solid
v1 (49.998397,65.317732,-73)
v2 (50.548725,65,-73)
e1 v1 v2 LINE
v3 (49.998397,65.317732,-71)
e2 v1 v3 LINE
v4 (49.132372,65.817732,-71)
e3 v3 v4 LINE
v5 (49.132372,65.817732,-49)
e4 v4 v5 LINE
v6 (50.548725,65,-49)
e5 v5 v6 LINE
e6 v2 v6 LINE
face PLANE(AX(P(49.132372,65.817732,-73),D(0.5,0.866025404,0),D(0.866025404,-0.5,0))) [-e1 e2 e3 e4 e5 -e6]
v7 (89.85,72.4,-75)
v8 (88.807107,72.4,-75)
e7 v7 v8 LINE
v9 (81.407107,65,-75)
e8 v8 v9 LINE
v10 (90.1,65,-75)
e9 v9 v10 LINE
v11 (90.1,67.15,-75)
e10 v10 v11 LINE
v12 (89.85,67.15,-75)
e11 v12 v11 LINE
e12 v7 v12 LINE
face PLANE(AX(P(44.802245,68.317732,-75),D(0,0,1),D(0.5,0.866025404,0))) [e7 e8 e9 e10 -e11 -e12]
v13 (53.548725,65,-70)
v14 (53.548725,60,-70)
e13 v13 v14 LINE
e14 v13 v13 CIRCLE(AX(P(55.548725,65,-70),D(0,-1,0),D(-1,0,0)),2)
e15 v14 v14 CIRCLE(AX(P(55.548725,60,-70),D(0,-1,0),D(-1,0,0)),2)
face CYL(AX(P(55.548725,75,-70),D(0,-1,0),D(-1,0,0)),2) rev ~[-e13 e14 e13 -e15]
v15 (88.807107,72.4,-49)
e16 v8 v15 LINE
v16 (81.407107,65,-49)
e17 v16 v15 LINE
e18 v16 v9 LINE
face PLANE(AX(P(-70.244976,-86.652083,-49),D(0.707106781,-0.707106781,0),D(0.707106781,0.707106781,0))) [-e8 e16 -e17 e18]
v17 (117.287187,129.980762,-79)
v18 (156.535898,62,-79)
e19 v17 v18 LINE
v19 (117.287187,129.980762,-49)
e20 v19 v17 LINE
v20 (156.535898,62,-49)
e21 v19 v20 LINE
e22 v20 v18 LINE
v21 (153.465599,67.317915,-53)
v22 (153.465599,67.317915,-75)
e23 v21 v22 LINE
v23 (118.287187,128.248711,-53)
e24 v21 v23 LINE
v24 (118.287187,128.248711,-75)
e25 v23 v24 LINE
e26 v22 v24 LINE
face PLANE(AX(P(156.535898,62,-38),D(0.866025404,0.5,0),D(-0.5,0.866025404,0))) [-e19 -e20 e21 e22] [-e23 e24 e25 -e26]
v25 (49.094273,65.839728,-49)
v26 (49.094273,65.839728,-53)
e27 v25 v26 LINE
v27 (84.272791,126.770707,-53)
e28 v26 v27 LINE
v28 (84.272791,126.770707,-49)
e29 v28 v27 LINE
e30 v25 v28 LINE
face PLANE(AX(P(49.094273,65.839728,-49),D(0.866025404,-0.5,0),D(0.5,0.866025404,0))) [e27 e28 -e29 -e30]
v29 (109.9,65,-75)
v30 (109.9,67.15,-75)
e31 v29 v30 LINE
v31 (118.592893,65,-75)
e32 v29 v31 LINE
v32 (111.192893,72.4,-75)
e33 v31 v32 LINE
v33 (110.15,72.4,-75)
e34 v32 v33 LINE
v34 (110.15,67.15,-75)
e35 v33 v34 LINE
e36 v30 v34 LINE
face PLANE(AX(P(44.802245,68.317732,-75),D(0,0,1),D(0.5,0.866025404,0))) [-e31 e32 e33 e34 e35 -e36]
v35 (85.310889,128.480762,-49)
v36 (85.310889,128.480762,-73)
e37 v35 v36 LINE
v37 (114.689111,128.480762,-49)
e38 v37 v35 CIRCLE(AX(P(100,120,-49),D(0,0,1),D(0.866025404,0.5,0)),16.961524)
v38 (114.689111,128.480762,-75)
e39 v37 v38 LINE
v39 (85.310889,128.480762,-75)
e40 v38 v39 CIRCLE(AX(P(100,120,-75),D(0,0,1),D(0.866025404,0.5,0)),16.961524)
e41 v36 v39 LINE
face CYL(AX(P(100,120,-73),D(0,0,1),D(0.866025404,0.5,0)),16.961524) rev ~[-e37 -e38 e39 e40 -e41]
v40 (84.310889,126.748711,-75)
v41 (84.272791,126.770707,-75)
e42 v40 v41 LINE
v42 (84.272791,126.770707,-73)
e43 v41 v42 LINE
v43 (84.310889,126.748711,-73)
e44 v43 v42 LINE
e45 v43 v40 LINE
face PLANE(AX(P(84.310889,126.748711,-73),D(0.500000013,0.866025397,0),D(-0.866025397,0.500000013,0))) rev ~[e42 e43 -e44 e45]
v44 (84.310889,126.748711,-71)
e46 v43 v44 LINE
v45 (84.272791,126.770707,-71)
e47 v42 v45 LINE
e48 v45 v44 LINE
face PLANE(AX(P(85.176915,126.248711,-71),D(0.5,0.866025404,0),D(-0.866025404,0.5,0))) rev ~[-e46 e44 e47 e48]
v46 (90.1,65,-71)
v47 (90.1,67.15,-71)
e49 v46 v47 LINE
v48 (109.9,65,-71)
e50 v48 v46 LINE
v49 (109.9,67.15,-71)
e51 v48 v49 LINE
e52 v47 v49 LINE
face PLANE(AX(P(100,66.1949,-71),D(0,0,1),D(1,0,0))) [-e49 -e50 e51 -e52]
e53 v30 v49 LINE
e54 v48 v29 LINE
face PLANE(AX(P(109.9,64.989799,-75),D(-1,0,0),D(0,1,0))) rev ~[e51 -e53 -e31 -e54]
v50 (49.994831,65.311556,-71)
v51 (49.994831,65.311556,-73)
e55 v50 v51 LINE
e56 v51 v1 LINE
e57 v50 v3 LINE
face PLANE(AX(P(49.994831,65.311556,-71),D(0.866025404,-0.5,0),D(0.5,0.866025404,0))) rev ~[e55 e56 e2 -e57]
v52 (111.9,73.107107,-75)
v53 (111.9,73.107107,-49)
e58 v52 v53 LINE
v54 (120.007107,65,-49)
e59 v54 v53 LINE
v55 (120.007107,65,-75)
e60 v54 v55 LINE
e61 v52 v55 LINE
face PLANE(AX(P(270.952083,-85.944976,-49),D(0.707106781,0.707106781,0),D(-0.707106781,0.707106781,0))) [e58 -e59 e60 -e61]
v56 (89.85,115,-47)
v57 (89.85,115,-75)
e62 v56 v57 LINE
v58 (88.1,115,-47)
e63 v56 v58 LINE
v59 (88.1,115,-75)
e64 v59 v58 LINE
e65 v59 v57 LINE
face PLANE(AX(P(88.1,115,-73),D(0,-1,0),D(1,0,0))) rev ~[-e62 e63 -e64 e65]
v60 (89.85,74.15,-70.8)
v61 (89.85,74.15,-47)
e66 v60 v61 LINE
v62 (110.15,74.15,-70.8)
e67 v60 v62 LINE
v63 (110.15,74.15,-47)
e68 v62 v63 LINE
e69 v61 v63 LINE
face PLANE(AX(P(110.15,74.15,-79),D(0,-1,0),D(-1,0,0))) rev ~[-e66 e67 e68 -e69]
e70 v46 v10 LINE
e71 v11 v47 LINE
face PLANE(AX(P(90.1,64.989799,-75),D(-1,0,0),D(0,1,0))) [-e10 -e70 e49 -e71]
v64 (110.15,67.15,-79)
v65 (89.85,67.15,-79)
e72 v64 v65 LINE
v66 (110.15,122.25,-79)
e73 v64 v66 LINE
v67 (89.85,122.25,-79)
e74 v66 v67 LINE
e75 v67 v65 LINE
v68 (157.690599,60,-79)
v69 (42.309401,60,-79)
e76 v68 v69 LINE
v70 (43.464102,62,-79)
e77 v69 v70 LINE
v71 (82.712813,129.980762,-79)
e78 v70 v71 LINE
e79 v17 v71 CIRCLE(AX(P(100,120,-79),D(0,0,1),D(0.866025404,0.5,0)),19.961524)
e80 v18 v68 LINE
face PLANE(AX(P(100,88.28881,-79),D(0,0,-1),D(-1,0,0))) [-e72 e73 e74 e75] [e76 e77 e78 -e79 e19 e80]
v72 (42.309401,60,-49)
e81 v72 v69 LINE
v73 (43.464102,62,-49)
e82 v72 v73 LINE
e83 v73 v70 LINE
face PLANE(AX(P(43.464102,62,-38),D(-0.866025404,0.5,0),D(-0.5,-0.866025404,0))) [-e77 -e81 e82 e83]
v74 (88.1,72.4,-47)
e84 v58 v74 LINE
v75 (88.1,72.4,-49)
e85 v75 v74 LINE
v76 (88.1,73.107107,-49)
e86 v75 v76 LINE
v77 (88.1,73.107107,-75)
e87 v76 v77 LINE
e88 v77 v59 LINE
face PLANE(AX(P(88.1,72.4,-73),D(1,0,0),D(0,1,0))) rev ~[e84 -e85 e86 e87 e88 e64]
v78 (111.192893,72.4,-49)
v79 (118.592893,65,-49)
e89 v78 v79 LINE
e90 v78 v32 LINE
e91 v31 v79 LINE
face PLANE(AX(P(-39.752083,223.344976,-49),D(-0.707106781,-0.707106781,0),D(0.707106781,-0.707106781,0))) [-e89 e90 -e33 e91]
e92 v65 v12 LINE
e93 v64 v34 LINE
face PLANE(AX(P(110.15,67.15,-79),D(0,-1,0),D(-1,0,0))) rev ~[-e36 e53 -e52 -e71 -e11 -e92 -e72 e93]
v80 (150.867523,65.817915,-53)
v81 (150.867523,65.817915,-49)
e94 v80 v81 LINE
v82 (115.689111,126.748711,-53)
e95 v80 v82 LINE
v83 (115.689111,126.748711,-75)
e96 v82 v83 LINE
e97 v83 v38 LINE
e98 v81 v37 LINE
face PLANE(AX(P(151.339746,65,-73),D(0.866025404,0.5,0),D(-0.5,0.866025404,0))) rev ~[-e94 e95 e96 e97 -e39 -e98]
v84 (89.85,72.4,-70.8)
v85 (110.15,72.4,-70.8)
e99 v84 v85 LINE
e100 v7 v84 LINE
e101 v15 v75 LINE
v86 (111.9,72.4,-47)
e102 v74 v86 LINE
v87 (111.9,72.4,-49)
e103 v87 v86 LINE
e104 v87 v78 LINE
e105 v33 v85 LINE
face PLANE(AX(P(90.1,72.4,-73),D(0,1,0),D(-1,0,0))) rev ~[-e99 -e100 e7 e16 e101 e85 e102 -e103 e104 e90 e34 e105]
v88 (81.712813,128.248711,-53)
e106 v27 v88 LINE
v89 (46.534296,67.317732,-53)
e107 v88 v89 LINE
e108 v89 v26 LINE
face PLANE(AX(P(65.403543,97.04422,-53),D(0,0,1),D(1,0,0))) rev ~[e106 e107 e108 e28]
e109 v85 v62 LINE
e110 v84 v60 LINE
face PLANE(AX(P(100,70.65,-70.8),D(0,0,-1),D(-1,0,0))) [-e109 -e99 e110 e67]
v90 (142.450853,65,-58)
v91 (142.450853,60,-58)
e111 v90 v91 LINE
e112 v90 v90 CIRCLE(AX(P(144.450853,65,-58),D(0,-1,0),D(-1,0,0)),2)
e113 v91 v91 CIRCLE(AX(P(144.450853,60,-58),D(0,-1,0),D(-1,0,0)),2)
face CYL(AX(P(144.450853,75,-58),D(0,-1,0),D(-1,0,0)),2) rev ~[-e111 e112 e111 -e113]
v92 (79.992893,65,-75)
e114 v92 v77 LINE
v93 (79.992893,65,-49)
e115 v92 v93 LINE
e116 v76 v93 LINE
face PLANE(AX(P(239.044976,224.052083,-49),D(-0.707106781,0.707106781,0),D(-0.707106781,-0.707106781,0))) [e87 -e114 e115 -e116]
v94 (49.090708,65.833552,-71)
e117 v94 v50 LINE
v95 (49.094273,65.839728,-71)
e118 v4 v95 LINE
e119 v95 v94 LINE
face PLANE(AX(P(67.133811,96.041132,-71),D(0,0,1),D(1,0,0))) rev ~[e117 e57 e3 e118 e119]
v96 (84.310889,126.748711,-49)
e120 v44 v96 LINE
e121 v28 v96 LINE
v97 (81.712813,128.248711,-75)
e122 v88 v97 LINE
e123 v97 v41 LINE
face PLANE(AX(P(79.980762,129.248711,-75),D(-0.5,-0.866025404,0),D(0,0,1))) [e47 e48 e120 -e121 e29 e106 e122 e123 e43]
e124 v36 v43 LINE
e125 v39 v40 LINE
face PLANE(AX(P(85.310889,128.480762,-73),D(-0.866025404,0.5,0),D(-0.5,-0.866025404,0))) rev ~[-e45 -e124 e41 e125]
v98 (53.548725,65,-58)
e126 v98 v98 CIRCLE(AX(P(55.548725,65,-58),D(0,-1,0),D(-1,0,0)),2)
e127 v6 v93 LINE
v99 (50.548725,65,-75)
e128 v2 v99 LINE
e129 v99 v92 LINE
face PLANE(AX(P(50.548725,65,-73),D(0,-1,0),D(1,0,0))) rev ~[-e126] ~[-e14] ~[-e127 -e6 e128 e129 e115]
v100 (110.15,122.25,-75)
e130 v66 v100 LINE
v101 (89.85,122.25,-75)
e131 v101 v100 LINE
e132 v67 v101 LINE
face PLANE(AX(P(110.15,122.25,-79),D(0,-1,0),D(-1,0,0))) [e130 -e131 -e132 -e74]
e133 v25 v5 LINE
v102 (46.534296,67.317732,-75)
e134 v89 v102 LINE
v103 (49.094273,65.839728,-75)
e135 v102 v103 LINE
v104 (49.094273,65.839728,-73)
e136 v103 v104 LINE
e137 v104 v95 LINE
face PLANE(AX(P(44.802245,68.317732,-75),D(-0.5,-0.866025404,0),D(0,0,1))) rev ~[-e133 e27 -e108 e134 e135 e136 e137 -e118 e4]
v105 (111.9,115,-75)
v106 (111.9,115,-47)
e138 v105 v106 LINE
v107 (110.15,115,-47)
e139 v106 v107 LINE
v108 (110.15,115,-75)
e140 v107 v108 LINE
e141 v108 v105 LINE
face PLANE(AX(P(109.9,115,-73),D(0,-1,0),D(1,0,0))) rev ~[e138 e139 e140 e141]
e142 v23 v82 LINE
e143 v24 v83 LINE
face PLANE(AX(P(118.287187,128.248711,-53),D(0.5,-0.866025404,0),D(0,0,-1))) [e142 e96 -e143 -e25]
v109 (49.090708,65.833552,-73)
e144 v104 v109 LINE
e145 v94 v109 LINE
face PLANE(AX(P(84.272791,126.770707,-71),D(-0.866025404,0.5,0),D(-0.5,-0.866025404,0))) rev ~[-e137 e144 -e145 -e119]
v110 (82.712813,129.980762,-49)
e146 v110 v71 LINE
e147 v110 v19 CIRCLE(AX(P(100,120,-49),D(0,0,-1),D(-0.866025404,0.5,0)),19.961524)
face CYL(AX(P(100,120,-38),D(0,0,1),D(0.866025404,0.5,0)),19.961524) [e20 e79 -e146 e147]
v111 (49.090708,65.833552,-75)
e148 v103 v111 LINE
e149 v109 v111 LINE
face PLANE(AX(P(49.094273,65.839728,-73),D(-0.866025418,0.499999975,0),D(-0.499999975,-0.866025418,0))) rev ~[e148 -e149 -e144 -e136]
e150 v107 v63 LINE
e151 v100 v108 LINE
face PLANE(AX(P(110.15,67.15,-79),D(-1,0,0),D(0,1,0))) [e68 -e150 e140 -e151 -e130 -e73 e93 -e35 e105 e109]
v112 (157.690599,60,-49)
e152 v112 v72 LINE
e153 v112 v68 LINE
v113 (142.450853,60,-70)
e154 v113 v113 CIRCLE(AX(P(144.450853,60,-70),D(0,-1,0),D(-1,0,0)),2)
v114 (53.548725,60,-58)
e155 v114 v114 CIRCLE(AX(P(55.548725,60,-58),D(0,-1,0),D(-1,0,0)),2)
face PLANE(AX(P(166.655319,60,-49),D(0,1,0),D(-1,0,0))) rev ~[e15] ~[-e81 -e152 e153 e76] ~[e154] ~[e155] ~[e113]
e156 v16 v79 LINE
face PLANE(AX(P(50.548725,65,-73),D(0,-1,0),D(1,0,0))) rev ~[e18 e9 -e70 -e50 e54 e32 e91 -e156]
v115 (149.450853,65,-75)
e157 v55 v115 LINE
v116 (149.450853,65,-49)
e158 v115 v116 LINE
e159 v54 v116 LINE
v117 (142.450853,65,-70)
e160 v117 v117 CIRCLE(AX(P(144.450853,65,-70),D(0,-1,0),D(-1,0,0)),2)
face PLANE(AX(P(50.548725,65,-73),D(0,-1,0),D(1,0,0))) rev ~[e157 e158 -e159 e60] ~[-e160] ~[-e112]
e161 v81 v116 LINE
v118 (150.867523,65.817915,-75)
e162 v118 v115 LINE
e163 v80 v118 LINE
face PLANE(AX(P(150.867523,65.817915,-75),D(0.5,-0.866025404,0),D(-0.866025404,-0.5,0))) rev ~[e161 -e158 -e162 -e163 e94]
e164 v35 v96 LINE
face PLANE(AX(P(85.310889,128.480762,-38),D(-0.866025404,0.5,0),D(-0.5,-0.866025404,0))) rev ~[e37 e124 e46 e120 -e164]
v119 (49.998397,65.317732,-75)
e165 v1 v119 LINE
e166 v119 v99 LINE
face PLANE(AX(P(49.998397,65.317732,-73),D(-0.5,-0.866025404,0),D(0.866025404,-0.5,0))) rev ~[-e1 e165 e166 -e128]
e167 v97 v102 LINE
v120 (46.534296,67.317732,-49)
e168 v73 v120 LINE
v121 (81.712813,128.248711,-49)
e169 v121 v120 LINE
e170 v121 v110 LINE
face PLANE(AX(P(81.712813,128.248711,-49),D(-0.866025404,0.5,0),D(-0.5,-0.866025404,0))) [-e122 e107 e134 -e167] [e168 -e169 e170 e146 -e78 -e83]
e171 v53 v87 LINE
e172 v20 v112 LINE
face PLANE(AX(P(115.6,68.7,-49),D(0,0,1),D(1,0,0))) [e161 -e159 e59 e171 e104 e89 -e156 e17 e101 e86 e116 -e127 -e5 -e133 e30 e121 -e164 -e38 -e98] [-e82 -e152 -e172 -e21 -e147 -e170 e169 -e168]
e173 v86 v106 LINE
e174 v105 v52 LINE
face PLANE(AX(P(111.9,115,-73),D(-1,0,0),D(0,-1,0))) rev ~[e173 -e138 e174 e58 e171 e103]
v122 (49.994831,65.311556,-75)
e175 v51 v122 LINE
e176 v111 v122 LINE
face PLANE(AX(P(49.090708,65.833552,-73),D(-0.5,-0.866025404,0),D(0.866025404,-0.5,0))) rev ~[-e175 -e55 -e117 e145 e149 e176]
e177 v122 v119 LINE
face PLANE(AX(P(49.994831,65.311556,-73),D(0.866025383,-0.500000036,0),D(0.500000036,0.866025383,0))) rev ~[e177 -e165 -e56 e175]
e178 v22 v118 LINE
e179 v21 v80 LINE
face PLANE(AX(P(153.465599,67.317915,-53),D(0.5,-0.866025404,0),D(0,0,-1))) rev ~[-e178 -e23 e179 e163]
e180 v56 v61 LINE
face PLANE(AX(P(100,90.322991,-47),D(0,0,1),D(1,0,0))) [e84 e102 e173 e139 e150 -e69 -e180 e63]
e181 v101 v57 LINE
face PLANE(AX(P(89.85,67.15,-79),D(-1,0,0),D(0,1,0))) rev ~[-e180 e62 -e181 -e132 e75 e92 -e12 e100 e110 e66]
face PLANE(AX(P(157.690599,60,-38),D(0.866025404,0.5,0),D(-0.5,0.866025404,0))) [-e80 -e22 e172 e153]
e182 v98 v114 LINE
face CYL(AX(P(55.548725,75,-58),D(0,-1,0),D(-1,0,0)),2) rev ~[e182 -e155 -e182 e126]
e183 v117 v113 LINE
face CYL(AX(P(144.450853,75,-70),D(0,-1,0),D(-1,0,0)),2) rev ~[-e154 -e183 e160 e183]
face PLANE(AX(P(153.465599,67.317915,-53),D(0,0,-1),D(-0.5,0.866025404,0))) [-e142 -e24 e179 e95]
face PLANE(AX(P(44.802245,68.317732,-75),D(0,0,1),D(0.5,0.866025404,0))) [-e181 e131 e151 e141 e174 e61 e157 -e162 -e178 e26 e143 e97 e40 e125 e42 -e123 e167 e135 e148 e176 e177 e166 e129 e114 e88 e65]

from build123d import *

# Parameters (mm, degrees)
SKETCH2_W                 = 200
SKETCH2_H                 = 200
BOSS_EXTRUDE2_DEPTH       = 60
BOSS_EXTRUDE3_START       = -38
BOSS_EXTRUDE3_DEPTH       = 41
SKETCH5_W                 = 180
SKETCH5_H                 = 180
CUT_EXTRUDE2_DEPTH        = 50
BOSS_EXTRUDE4_START       = -51.2
BOSS_EXTRUDE4_DEPTH       = 30
CUT_EXTRUDE3_DEPTH        = 35
SKETCH9_R                 = 5
CUT_EXTRUDE4_DEPTH        = 10
CUT_EXTRUDE6_DEPTH        = 26
SKETCH11_W                = 120
SKETCH11_H                = 10
CUT_EXTRUDE7_DEPTH        = 26
SKETCH12_W                = 180
SKETCH12_H                = 50
CUT_EXTRUDE8_DEPTH        = 200
SKETCH13_W                = 180
SKETCH13_H                = 50
CUT_EXTRUDE9_DEPTH        = 200
SKETCH15_W                = 19.8
SKETCH15_H                = 40.6
SKETCH15_R                = 4.016151872
CUT_EXTRUDE11_DEPTH       = 10
BOSS_EXTRUDE5_DEPTH       = 26
SKETCH20_W                = 19.8
SKETCH20_H                = 7
CUT_EXTRUDE14_DEPTH       = 8.2
SKETCH22_W                = 22
SKETCH22_H                = 68.38628635
SKETCH22_W_2              = 33
SKETCH22_H_2              = 70.357034464
CUT_EXTRUDE16_DEPTH       = 6
CUT_EXTRUDE17_DEPTH       = 150
SKETCH24_W                = 190
SKETCH24_H                = 55
CUT_EXTRUDE18_DEPTH       = 200
SKETCH41_W                = 200
SKETCH41_H                = 200
SKETCH41_W_2              = 115.381197846
SKETCH41_H_2              = 110.8
CUT_EXTRUDE25_DEPTH       = 100
CUT_EXTRUDE26_DEPTH       = 26
SKETCH43_R                = 85
BOSS_EXTRUDE9_DEPTH       = 5
CUT_EXTRUDE27_DEPTH       = 11
BOSS_EXTRUDE10_DEPTH      = 4
BOSS_EXTRUDE11_DEPTH      = 24
BOSS_EXTRUDE12_DEPTH      = 26
BOSS_EXTRUDE14_DEPTH      = 4
CUT_EXTRUDE29_DEPTH       = 18
CUT_EXTRUDE30_DEPTH       = 2
CUT_EXTRUDE31_DEPTH       = 2
SKETCH55_W                = 19.8
SKETCH55_H                = 2.410200662
BOSS_EXTRUDE16_DEPTH      = 4
SKETCH56_W                = 22
SKETCH56_H                = 70.356823689
CUT_EXTRUDE32_DEPTH       = 4
BOSS_EXTRUDE17_DEPTH      = 26
BOSS_EXTRUDE18_DEPTH      = 26
BOSS_EXTRUDE19_START      = 170
BOSS_EXTRUDE19_DEPTH      = 10
SKETCH60_R                = 2.45
BOSS_EXTRUDE20_DEPTH      = 9
FILLET1_R                 = 0.3
CUT_EXTRUDE33_START       = -1
SKETCH61_R                = 2.45
SKETCH61_R_2              = 2.375
CUT_EXTRUDE33_DEPTH       = 5.2
FILLET2_R                 = 2
BOSS_EXTRUDE21_START      = 140
BOSS_EXTRUDE21_DEPTH      = 10
SKETCH63_R                = 2.45
BOSS_EXTRUDE22_DEPTH      = 9
FILLET3_R                 = 0.3
FILLET4_R                 = 2
CUT_EXTRUDE34_START       = -1
SKETCH64_R                = 2.45
SKETCH64_R_2              = 2.375
CUT_EXTRUDE34_DEPTH       = 5.2
SKETCH67_R                = 95.168377016
SKETCH67_R_2              = 84.75
CUT_EXTRUDE36_DEPTH       = 5
CUT_EXTRUDE37_DEPTH       = 300
CUT_EXTRUDE37_DEPTH_BACK  = 300
SKETCH70_W                = 122.930258841
SKETCH70_H                = 81.480763568
CUT_EXTRUDE39_DEPTH       = 40
F_4_0MM_DOWEL_HOLE1_D     = 4
F_4_0MM_DOWEL_HOLE1_DEPTH = 10
F_4_0MM_DOWEL_HOLE1_TIP   = 1.201721238
SKETCH75_W                = 20.3
SKETCH75_H                = 48.1
CUT_EXTRUDE40_DEPTH       = 50
SKETCH76_W                = 20.3
SKETCH76_H                = 7
CUT_EXTRUDE41_DEPTH       = 8.2
RIB2_REACH                = 214.968


with BuildPart() as part:
    # Sketch2 → Boss-Extrude2 (new body)
    with BuildSketch(Plane(origin=(0, 0, 0), x_dir=(1, 0, 0), z_dir=(0, 1, 0))):
        with Locations((100, 100)):
            Rectangle(SKETCH2_W, SKETCH2_H)
    extrude(amount=BOSS_EXTRUDE2_DEPTH)

    # Sketch3 → Boss-Extrude3 (add)
    with BuildSketch(Plane.XY.offset(BOSS_EXTRUDE3_START)):
        with BuildLine():
            Line((40, 60), (80.980762114, 130.980762114))
            ThreePointArc((80.980762114, 130.980762114), (100, 141.961524227), (119.019237886, 130.980762114))
            Line((119.019237886, 130.980762114), (160, 60))
            Line((160, 60), (40, 60))
        make_face()
    extrude(amount=-BOSS_EXTRUDE3_DEPTH)

    # Sketch5 → Cut-Extrude2 (cut)
    with BuildSketch(Plane.XZ):
        with Locations((100, -100)):
            Rectangle(SKETCH5_W, SKETCH5_H)
    extrude(amount=-CUT_EXTRUDE2_DEPTH, mode=Mode.SUBTRACT)

    # Sketch7 → Boss-Extrude4 (add)
    with BuildSketch(Plane(origin=(0, 0, -200), x_dir=(-1, 0, 0), z_dir=(0, 0, -1)).offset(BOSS_EXTRUDE4_START)):
        with BuildLine():
            Line((-160, 60), (-40, 60))
            Line((-40, 60), (-80.980762114, 130.980762114))
            ThreePointArc((-80.980762114, 130.980762114), (-100, 141.961524227), (-119.019237886, 130.980762114))
            Line((-119.019237886, 130.980762114), (-160, 60))
        make_face()
    extrude(amount=-BOSS_EXTRUDE4_DEPTH)

    # Sketch8 → Cut-Extrude3 (cut)
    with BuildSketch(Plane.XY.offset(-38)):
        with BuildLine():
            Line((48.660254038, 65), (151.339745962, 65))
            Line((151.339745962, 65), (114.689110868, 128.480762114))
            ThreePointArc((114.689110868, 128.480762114), (100, 136.961524227), (85.310889132, 128.480762114))
            Line((85.310889132, 128.480762114), (48.660254038, 65))
        make_face()
    extrude(amount=-CUT_EXTRUDE3_DEPTH, mode=Mode.SUBTRACT)

    # Sketch9 → Cut-Extrude4 (cut)
    with BuildSketch(Plane.XY.offset(-118.8)):
        with BuildLine():
            Line((95, 141.384773704), (95, 105))
            ThreePointArc((95, 105), (100, 110), (105, 105))
            Line((105, 105), (105, 141.384773704))
            ThreePointArc((105, 141.384773704), (100, 141.961524227), (95, 141.384773704))
        make_face()
        with Locations((100, 105)):
            Circle(SKETCH9_R)
    extrude(amount=-CUT_EXTRUDE4_DEPTH, mode=Mode.SUBTRACT)

    # Sketch10 → Cut-Extrude6 (cut)
    with BuildSketch(Plane(origin=(0, 0, -148.8), x_dir=(-1, 0, 0), z_dir=(0, 0, -1))):
        with BuildLine():
            Line((-110, 105), (-110, 133.700120587))
            ThreePointArc((-110, 133.700120587), (-112.617387787, 131.335555987), (-114.689110868, 128.480762114))
            Line((-114.689110868, 128.480762114), (-151.339745962, 65))
            Line((-151.339745962, 65), (-48.660254038, 65))
            Line((-48.660254038, 65), (-85.310889132, 128.480762114))
            ThreePointArc((-85.310889132, 128.480762114), (-87.382612213, 131.335555987), (-90, 133.700120587))
            Line((-90, 133.700120587), (-90, 105))
            ThreePointArc((-90, 105), (-100, 95), (-110, 105))
        make_face()
    extrude(amount=-CUT_EXTRUDE6_DEPTH, mode=Mode.SUBTRACT)

    # Sketch11 → Cut-Extrude7 (cut)
    with BuildSketch(Plane(origin=(0, 60, 0), x_dir=(1, 0, 0), z_dir=(0, 1, 0))):
        with Locations((100, 113.8)):
            Rectangle(SKETCH11_W, SKETCH11_H)
    extrude(amount=-CUT_EXTRUDE7_DEPTH, mode=Mode.SUBTRACT)

    # Sketch12 → Cut-Extrude8 (cut)
    with BuildSketch(Plane(origin=(200, 0, 0), x_dir=(0, 0, -1), z_dir=(1, 0, 0))):
        with Locations((100, 25)):
            Rectangle(SKETCH12_W, SKETCH12_H)
    extrude(amount=-CUT_EXTRUDE8_DEPTH, mode=Mode.SUBTRACT)

    # Sketch13 → Cut-Extrude9 (cut)
    with BuildSketch(Plane.XY):
        with Locations((100, 25)):
            Rectangle(SKETCH13_W, SKETCH13_H)
    extrude(amount=-CUT_EXTRUDE9_DEPTH, mode=Mode.SUBTRACT)

    # Sketch15 → Cut-Extrude11 (cut)
    with BuildSketch(Plane.XY.offset(-73)):
        with Locations((100, 94.7)):
            Rectangle(SKETCH15_W, SKETCH15_H)
        with Locations((100, 105)):
            Circle(SKETCH15_R, mode=Mode.SUBTRACT)
        with Locations((100, 105)):
            Circle(SKETCH15_R)
    extrude(amount=-CUT_EXTRUDE11_DEPTH, mode=Mode.SUBTRACT)

    # Sketch16 → Boss-Extrude5 (add)
    with BuildSketch(Plane.XY.offset(-73)):
        Polygon((88.1, 115), (88.1, 72.4), (111.9, 72.4), (111.9, 115), (109.9, 115), (109.9, 74.4), (90.1, 74.4), (90.1, 115), align=None)
    extrude(amount=BOSS_EXTRUDE5_DEPTH)

    # Sketch20 → Cut-Extrude14 (cut)
    with BuildSketch(Plane(origin=(0, 0, -79), x_dir=(-1, 0, 0), z_dir=(0, 0, -1))):
        with Locations((-100, 118.5)):
            Rectangle(SKETCH20_W, SKETCH20_H)
        with Locations((-100, 70.9)):
            Rectangle(SKETCH20_W, SKETCH20_H)
    extrude(amount=-CUT_EXTRUDE14_DEPTH, mode=Mode.SUBTRACT)

    # Sketch22 → Cut-Extrude16 (cut)
    with BuildSketch(Plane(origin=(4.019237886, -2.320508076, 0), x_dir=(0, 0, 1), z_dir=(-0.8660254037844397, 0.49999999999999806, 0))):
        with Locations((-133.8, 115.729905279)):
            Rectangle(SKETCH22_W, SKETCH22_H)
        with Locations((-58.5, 116.744531222)):
            Rectangle(SKETCH22_W_2, SKETCH22_H_2)
    extrude(amount=-CUT_EXTRUDE16_DEPTH, mode=Mode.SUBTRACT)

    # Sketch23 → Cut-Extrude17 (cut)
    with BuildSketch(Plane.XY.offset(-38)):
        with BuildLine():
            Line((43.464101615, 62), (42.309401077, 60))
            Line((42.309401077, 60), (36.951802896, 60))
            Line((36.951802896, 60), (100, 183.688158135))
            Line((100, 183.688158135), (162.604774917, 60))
            Line((162.604774917, 60), (157.690598923, 60))
            Line((157.690598923, 60), (156.535898385, 62))
            Line((156.535898385, 62), (117.287187079, 129.980762114))
            ThreePointArc((117.287187079, 129.980762114), (100, 139.961524227), (82.712812921, 129.980762114))
            Line((82.712812921, 129.980762114), (43.464101615, 62))
        make_face()
    extrude(amount=-CUT_EXTRUDE17_DEPTH, mode=Mode.SUBTRACT)

    # Sketch24 → Cut-Extrude18 (cut)
    with BuildSketch(Plane(origin=(0, 0, -200), x_dir=(-1, 0, 0), z_dir=(0, 0, -1))):
        with Locations((-100, 27.5)):
            Rectangle(SKETCH24_W, SKETCH24_H)
    extrude(amount=-CUT_EXTRUDE18_DEPTH, mode=Mode.SUBTRACT)

    # Sketch41 → Cut-Extrude25 (cut)
    with BuildSketch(Plane(origin=(0, 60, 0), x_dir=(1, 0, 0), z_dir=(0, 1, 0))):
        with Locations((100, 100)):
            Rectangle(SKETCH41_W, SKETCH41_H)
        with Locations((100, 93.4)):
            Rectangle(SKETCH41_W_2, SKETCH41_H_2, mode=Mode.SUBTRACT)
    extrude(amount=-CUT_EXTRUDE25_DEPTH, mode=Mode.SUBTRACT)


with BuildPart() as cut_extrude25_piece_1:
    # of the separate pieces the step leaves, piece 1, a body of its own (cut_extrude25_pieces)
    add(part.part.solids().sort_by_distance((42.309401077, 55, -108.8))[0])



with BuildPart() as cut_extrude25_piece_2:
    # of the separate pieces the step leaves, piece 2, a body of its own (cut_extrude25_pieces)
    add(part.part.solids().sort_by_distance((42.309401077, 55, -118.8))[0])

    # Sketch38 → Cut-Extrude26 (cut)
    with BuildSketch(Plane(origin=(0, 0, -148.8), x_dir=(-1, 0, 0), z_dir=(0, 0, -1))):
        with BuildLine():
            Line((-110, 133.700120587), (-107, 135.763853262))
            Line((-107, 135.763853262), (-107, 105))
            ThreePointArc((-107, 105), (-100, 98), (-93, 105))
            Line((-93, 105), (-93, 135.763853262))
            Line((-93, 135.763853262), (-90, 133.700120587))
            Line((-90, 133.700120587), (-90, 105))
            ThreePointArc((-90, 105), (-100, 95), (-110, 105))
            Line((-110, 105), (-110, 133.700120587))
        make_face()
    extrude(amount=-CUT_EXTRUDE26_DEPTH, mode=Mode.SUBTRACT)


with BuildPart() as cut_extrude25_piece_1_1:
    add(cut_extrude25_piece_1.part)

    add(cut_extrude25_piece_2.part)  # Boss-Extrude9 merges Cut-Extrude25 piece 2
    # Sketch43 → Boss-Extrude9 (add)
    with BuildSketch(Plane.XZ.offset(-55)):
        with Locations(Location((100, -98.8, 0), (0, 0, 270))):
            Circle(SKETCH43_R)
    extrude(amount=-BOSS_EXTRUDE9_DEPTH)

    # Sketch45 → Cut-Extrude27 (cut)
    with BuildSketch(Plane.XY.offset(-38)):
        with BuildLine():
            Line((42.309401077, 60), (82.712812921, 129.980762114))
            ThreePointArc((82.712812921, 129.980762114), (100, 139.961524227), (117.287187079, 129.980762114))
            Line((117.287187079, 129.980762114), (157.690598923, 60))
            Line((157.690598923, 60), (42.309401077, 60))
        make_face()
        with BuildLine():
            Line((151.339745962, 65), (114.689110868, 128.480762114))
            ThreePointArc((114.689110868, 128.480762114), (100, 136.961524227), (85.310889132, 128.480762114))
            Line((85.310889132, 128.480762114), (48.660254038, 65))
            Line((48.660254038, 65), (151.339745962, 65))
        make_face(mode=Mode.SUBTRACT)
    extrude(amount=-CUT_EXTRUDE27_DEPTH, mode=Mode.SUBTRACT)

    # Sketch46 → Boss-Extrude10 (add)
    with BuildSketch(Plane.XY.offset(-49)):
        Polygon((81.712812921, 128.248711306), (46.534295689, 67.317732125), (49.094273419, 65.839728294), (84.272790651, 126.770707475), align=None)
    extrude(amount=-BOSS_EXTRUDE10_DEPTH)

    # Sketch47 → Boss-Extrude11 (add)
    with BuildSketch(Plane.XY.offset(-73)):
        Polygon((49.1323719, 65.817732125), (50.548725488, 65), (48.660254038, 65), align=None)
    extrude(amount=BOSS_EXTRUDE11_DEPTH)

    # Sketch48 → Boss-Extrude12 (add)
    with BuildSketch(Plane(origin=(0, 0, -122.8), x_dir=(-1, 0, 0), z_dir=(0, 0, -1))):
        Polygon((-49.117745958, 65.792399249), (-50.490221717, 65), (-48.660254038, 65), align=None)
    extrude(amount=BOSS_EXTRUDE12_DEPTH)

    # Sketch49 → Boss-Extrude14 (add)
    with BuildSketch(Plane.XY.offset(-75)):
        Polygon((49.998397304, 65.317732125), (49.094273419, 65.839728294), (84.272790651, 126.770707475), (85.176914536, 126.248711306), align=None)
    extrude(amount=BOSS_EXTRUDE14_DEPTH)

    # Sketch52 → Cut-Extrude29 (cut)
    with BuildSketch(Plane(origin=(0, 0, -148.8), x_dir=(-1, 0, 0), z_dir=(0, 0, -1))):
        with BuildLine():
            Line((-93, 135.763853262), (-93, 105))
            ThreePointArc((-93, 105), (-100, 98), (-107, 105))
            Line((-107, 105), (-107, 135.763853262))
            ThreePointArc((-107, 135.763853262), (-100, 137.248161341), (-93, 135.763853262))
        make_face()
    extrude(amount=-CUT_EXTRUDE29_DEPTH, mode=Mode.SUBTRACT)

    # Sketch53 → Cut-Extrude30 (cut)
    with BuildSketch(Plane.XY.offset(-71)):
        Polygon((85.176914536, 126.248711306), (84.272790651, 126.770707475), (49.090707581, 65.833552081), (49.994831466, 65.311555913), align=None)
    extrude(amount=-CUT_EXTRUDE30_DEPTH, mode=Mode.SUBTRACT)

    # Sketch54 → Cut-Extrude31 (cut)
    with BuildSketch(Plane.XY.offset(-73)):
        with BuildLine():
            Line((49.090707581, 65.833552081), (49.994831466, 65.311555913))
            Line((49.994831466, 65.311555913), (49.998397304, 65.317732125))
            Line((49.998397304, 65.317732125), (50.548725488, 65))
            Line((50.548725488, 65), (151.339745962, 65))
            Line((151.339745962, 65), (114.689110868, 128.480762114))
            ThreePointArc((114.689110868, 128.480762114), (100, 136.961524227), (85.310889132, 128.480762114))
            Line((85.310889132, 128.480762114), (84.310889132, 126.748711306))
            Line((84.310889132, 126.748711306), (84.272790651, 126.770707475))
            Line((84.272790651, 126.770707475), (49.094273419, 65.839728294))
            Line((49.094273419, 65.839728294), (49.090707581, 65.833552081))
        make_face()
        Polygon((90.1, 122), (109.9, 122), (109.9, 115), (111.9, 115), (111.9, 72.4), (109.9, 72.4), (109.9, 67.4), (90.1, 67.4), (90.1, 72.4), (88.1, 72.4), (88.1, 115), (90.1, 115), align=None, mode=Mode.SUBTRACT)
    extrude(amount=-CUT_EXTRUDE31_DEPTH, mode=Mode.SUBTRACT)

    # Sketch55 → Boss-Extrude16 (add)
    with BuildSketch(Plane.XY.offset(-75)):
        with Locations((100, 66.194899669)):
            Rectangle(SKETCH55_W, SKETCH55_H)
    extrude(amount=BOSS_EXTRUDE16_DEPTH)

    # Sketch56 → Cut-Extrude32 (cut)
    with BuildSketch(Plane(origin=(144.248711306, 83.282032303, 0), x_dir=(0, 0, -1), z_dir=(0.8660254037844362, 0.5000000000000044, 0))):
        with Locations((64, 16.744636609)):
            Rectangle(SKETCH56_W, SKETCH56_H)
        with Locations((133.8, 16.744636609)):
            Rectangle(SKETCH56_W, SKETCH56_H)
    extrude(amount=-CUT_EXTRUDE32_DEPTH, mode=Mode.SUBTRACT)

    # Sketch57 → Boss-Extrude17 (add)
    with BuildSketch(Plane.XY.offset(-75)):
        Polygon((150.867522712, 65.817914662), (149.450852961, 65), (151.339745962, 65), align=None)
    extrude(amount=BOSS_EXTRUDE17_DEPTH)

    # Sketch58 → Boss-Extrude18 (add)
    with BuildSketch(Plane(origin=(0, 0, -122.8), x_dir=(-1, 0, 0), z_dir=(0, 0, -1))):
        Polygon((-150.867522712, 65.817914662), (-151.339745962, 65), (-149.450852961, 65), align=None)
    extrude(amount=BOSS_EXTRUDE18_DEPTH)

    # Sketch59 → Boss-Extrude19 (add)
    with BuildSketch(Plane(origin=(0, 0, 0), x_dir=(0, 0, -1), z_dir=(1, 0, 0)).offset(BOSS_EXTRUDE19_START)):
        with BuildLine():
            Line((81.4, 60), (94.15, 72.75))
            ThreePointArc((94.15, 72.75), (98.9, 74.717514421), (103.65, 72.75))
            Line((103.65, 72.75), (116.4, 60))
            Line((116.4, 60), (81.4, 60))
        make_face()
        with BuildLine():
            Line((81.4, 55), (116.4, 55))
            Line((116.4, 55), (103.65, 42.25))
            ThreePointArc((103.65, 42.25), (98.9, 40.282485579), (94.15, 42.25))
            Line((94.15, 42.25), (81.4, 55))
        make_face()
    extrude(amount=BOSS_EXTRUDE19_DEPTH)

    # Sketch60 → Boss-Extrude20 (add)
    with BuildSketch(Plane(origin=(180, 0, 0), x_dir=(0, 0, -1), z_dir=(1, 0, 0))):
        with Locations(Location((98.9, 70, 0), (0, 0, 180))):
            Circle(SKETCH60_R)
        with Locations(Location((98.9, 45, 0), (0, 0, 180))):
            Circle(SKETCH60_R)
    extrude(amount=BOSS_EXTRUDE20_DEPTH)

    # Fillet1
    fillet1_edges = [cut_extrude25_piece_1_1.edges().sort_by_distance(p)[0] for p in [
        (189, 70, -101.35),
        (189, 45, -101.35),
    ]]
    fillet(fillet1_edges, radius=FILLET1_R)

    # Sketch61 → Cut-Extrude33 (cut)
    with BuildSketch(Plane(origin=(189, 0, 0), x_dir=(0, 0, -1), z_dir=(1, 0, 0)).offset(CUT_EXTRUDE33_START)):
        with Locations(Location((98.9, 70, 0), (0, 0, 180))):
            Circle(SKETCH61_R)
        with Locations((98.9, 70)):
            Circle(SKETCH61_R_2, mode=Mode.SUBTRACT)
        with Locations(Location((98.9, 45, 0), (0, 0, 180))):
            Circle(SKETCH61_R)
        with Locations(Location((98.9, 45, 0), (0, 0, 180))):
            Circle(SKETCH61_R_2, mode=Mode.SUBTRACT)
    extrude(amount=-CUT_EXTRUDE33_DEPTH, mode=Mode.SUBTRACT)

    # Fillet2
    fillet2_edges = [cut_extrude25_piece_1_1.edges().sort_by_distance(p)[0] for p in [
        (180, 70, -101.35),
        (180, 45, -101.35),
    ]]
    fillet(fillet2_edges, radius=FILLET2_R)

    # Sketch62 → Boss-Extrude21 (add)
    with BuildSketch(Plane.ZY.offset(-170).offset(BOSS_EXTRUDE21_START)):
        with BuildLine():
            Line((-81.4, 55), (-94.15, 42.25))
            ThreePointArc((-94.15, 42.25), (-98.9, 40.282485579), (-103.65, 42.25))
            Line((-103.65, 42.25), (-116.4, 55))
            Line((-116.4, 55), (-81.4, 55))
        make_face()
    extrude(amount=BOSS_EXTRUDE21_DEPTH)

    # Sketch63 → Boss-Extrude22 (add)
    with BuildSketch(Plane.ZY.offset(-20)):
        with Locations((-98.9, 45)):
            Circle(SKETCH63_R)
    extrude(amount=BOSS_EXTRUDE22_DEPTH)

    # Fillet3
    fillet3_edges = [cut_extrude25_piece_1_1.edges().sort_by_distance(p)[0] for p in [
        (11, 45, -101.35),
    ]]
    fillet(fillet3_edges, radius=FILLET3_R)

    # Fillet4
    fillet4_edges = [cut_extrude25_piece_1_1.edges().sort_by_distance(p)[0] for p in [
        (20, 45, -101.35),
    ]]
    fillet(fillet4_edges, radius=FILLET4_R)

    # Sketch64 → Cut-Extrude34 (cut)
    with BuildSketch(Plane.ZY.offset(-11).offset(CUT_EXTRUDE34_START)):
        with Locations((-98.9, 45)):
            Circle(SKETCH64_R)
        with Locations((-98.9, 45)):
            Circle(SKETCH64_R_2, mode=Mode.SUBTRACT)
    extrude(amount=-CUT_EXTRUDE34_DEPTH, mode=Mode.SUBTRACT)

    # Sketch67 → Cut-Extrude36 (cut)
    with BuildSketch(Plane(origin=(0, 60, 0), x_dir=(1, 0, 0), z_dir=(0, 1, 0))):
        with Locations((100, 98.8)):
            Circle(SKETCH67_R)
        with Locations(Location((100, 98.8, 0), (0, 0, 270))):
            Circle(SKETCH67_R_2, mode=Mode.SUBTRACT)
    extrude(amount=-CUT_EXTRUDE36_DEPTH, mode=Mode.SUBTRACT)

    # Sketch69 → Cut-Extrude37 (cut, two sides)
    with BuildSketch(Plane.XY.offset(-49)) as cut_extrude37_sk:
        Polygon((215.911879912, 60), (228.126422398, 60), (228.126422398, 82.352259546), (166.655319243, 82.352259546), (166.655319243, 60), (-1.892498908, 60), (-1.892498908, 17.905538861), (184.75, 17.905538861), (184.75, 13.056821612), (215.911879912, 13.056821612), align=None)
    extrude(amount=CUT_EXTRUDE37_DEPTH, mode=Mode.SUBTRACT)
    extrude(cut_extrude37_sk.sketch, amount=-CUT_EXTRUDE37_DEPTH_BACK, mode=Mode.SUBTRACT)


with BuildPart() as cut_extrude37_piece_1:
    # of the separate pieces the step leaves, piece 1, a body of its own (cut_extrude37_pieces)
    add(cut_extrude25_piece_1_1.part.solids().sort_by_distance((117.287187079, 129.980762114, -49))[0])

    # Ø4.0mm Dowel Hole1
    with Locations(Plane(origin=(0, 65, 0), x_dir=(1, 0, 0), z_dir=(0, 1, 0))):
        with Locations((55.548725488, 70), (55.548725488, 58), (144.450852961, 70), (144.450852961, 58)):
            Hole(F_4_0MM_DOWEL_HOLE1_D / 2, depth=F_4_0MM_DOWEL_HOLE1_DEPTH)
            with Locations((0, 0, -(F_4_0MM_DOWEL_HOLE1_DEPTH + F_4_0MM_DOWEL_HOLE1_TIP / 2))):  # 118° drill point
                Cone(0, F_4_0MM_DOWEL_HOLE1_D / 2, F_4_0MM_DOWEL_HOLE1_TIP, mode=Mode.SUBTRACT)

    # Sketch75 → Cut-Extrude40 (cut)
    with BuildSketch(Plane(origin=(0, 0, -79), x_dir=(-1, 0, 0), z_dir=(0, 0, -1))):
        with Locations((-100, 98.2)):
            Rectangle(SKETCH75_W, SKETCH75_H)
    extrude(amount=-CUT_EXTRUDE40_DEPTH, mode=Mode.SUBTRACT)

    # Sketch76 → Cut-Extrude41 (cut)
    with BuildSketch(Plane(origin=(0, 0, -79), x_dir=(-1, 0, 0), z_dir=(0, 0, -1))):
        with Locations((-100, 70.65)):
            Rectangle(SKETCH76_W, SKETCH76_H)
    extrude(amount=-CUT_EXTRUDE41_DEPTH, mode=Mode.SUBTRACT)

    # Sketch78 walls → Rib2 (add, up to next)
    with BuildSketch(Plane.XY.offset(-49), mode=Mode.PRIVATE) as rib2_sk1:
        Polygon((239.044976209, 224.05208299), (-70.95208299, -85.944976209), (-70.244976209, -86.65208299), (239.75208299, 223.344976209), align=None)
    rib2_tool1 = extrude(rib2_sk1.sketch, amount=-RIB2_REACH, mode=Mode.PRIVATE) - cut_extrude37_piece_1.part
    # Sketch78 walls → Rib2 (add, up to next)
    with BuildSketch(Plane.XY.offset(-49), mode=Mode.PRIVATE) as rib2_sk2:
        Polygon((-39.75208299, 223.344976209), (270.244976209, -86.65208299), (270.95208299, -85.944976209), (-39.044976209, 224.05208299), align=None)
    rib2_tool2 = extrude(rib2_sk2.sketch, amount=-RIB2_REACH, mode=Mode.PRIVATE) - cut_extrude37_piece_1.part
    add(rib2_tool1.solids().sort_by_distance((84.4, 68.7, -49))[0])
    add(rib2_tool2.solids().sort_by_distance((115.6, 68.7, -49))[0])


with BuildPart() as cut_extrude37_piece_2:
    # of the separate pieces the step leaves, piece 2, a body of its own (cut_extrude37_pieces)
    add(cut_extrude25_piece_1_1.part.solids().sort_by_distance((42.309401077, 60, -118.8))[0])

    # Sketch70 → Cut-Extrude39 (cut)
    with BuildSketch(Plane(origin=(0, 0, -148.8), x_dir=(-1, 0, 0), z_dir=(0, 0, -1))):
        with Locations((-96.225469503, 100.740381784)):
            Rectangle(SKETCH70_W, SKETCH70_H)
    extrude(amount=-CUT_EXTRUDE39_DEPTH, mode=Mode.SUBTRACT)


solid = cut_extrude37_piece_1.part
